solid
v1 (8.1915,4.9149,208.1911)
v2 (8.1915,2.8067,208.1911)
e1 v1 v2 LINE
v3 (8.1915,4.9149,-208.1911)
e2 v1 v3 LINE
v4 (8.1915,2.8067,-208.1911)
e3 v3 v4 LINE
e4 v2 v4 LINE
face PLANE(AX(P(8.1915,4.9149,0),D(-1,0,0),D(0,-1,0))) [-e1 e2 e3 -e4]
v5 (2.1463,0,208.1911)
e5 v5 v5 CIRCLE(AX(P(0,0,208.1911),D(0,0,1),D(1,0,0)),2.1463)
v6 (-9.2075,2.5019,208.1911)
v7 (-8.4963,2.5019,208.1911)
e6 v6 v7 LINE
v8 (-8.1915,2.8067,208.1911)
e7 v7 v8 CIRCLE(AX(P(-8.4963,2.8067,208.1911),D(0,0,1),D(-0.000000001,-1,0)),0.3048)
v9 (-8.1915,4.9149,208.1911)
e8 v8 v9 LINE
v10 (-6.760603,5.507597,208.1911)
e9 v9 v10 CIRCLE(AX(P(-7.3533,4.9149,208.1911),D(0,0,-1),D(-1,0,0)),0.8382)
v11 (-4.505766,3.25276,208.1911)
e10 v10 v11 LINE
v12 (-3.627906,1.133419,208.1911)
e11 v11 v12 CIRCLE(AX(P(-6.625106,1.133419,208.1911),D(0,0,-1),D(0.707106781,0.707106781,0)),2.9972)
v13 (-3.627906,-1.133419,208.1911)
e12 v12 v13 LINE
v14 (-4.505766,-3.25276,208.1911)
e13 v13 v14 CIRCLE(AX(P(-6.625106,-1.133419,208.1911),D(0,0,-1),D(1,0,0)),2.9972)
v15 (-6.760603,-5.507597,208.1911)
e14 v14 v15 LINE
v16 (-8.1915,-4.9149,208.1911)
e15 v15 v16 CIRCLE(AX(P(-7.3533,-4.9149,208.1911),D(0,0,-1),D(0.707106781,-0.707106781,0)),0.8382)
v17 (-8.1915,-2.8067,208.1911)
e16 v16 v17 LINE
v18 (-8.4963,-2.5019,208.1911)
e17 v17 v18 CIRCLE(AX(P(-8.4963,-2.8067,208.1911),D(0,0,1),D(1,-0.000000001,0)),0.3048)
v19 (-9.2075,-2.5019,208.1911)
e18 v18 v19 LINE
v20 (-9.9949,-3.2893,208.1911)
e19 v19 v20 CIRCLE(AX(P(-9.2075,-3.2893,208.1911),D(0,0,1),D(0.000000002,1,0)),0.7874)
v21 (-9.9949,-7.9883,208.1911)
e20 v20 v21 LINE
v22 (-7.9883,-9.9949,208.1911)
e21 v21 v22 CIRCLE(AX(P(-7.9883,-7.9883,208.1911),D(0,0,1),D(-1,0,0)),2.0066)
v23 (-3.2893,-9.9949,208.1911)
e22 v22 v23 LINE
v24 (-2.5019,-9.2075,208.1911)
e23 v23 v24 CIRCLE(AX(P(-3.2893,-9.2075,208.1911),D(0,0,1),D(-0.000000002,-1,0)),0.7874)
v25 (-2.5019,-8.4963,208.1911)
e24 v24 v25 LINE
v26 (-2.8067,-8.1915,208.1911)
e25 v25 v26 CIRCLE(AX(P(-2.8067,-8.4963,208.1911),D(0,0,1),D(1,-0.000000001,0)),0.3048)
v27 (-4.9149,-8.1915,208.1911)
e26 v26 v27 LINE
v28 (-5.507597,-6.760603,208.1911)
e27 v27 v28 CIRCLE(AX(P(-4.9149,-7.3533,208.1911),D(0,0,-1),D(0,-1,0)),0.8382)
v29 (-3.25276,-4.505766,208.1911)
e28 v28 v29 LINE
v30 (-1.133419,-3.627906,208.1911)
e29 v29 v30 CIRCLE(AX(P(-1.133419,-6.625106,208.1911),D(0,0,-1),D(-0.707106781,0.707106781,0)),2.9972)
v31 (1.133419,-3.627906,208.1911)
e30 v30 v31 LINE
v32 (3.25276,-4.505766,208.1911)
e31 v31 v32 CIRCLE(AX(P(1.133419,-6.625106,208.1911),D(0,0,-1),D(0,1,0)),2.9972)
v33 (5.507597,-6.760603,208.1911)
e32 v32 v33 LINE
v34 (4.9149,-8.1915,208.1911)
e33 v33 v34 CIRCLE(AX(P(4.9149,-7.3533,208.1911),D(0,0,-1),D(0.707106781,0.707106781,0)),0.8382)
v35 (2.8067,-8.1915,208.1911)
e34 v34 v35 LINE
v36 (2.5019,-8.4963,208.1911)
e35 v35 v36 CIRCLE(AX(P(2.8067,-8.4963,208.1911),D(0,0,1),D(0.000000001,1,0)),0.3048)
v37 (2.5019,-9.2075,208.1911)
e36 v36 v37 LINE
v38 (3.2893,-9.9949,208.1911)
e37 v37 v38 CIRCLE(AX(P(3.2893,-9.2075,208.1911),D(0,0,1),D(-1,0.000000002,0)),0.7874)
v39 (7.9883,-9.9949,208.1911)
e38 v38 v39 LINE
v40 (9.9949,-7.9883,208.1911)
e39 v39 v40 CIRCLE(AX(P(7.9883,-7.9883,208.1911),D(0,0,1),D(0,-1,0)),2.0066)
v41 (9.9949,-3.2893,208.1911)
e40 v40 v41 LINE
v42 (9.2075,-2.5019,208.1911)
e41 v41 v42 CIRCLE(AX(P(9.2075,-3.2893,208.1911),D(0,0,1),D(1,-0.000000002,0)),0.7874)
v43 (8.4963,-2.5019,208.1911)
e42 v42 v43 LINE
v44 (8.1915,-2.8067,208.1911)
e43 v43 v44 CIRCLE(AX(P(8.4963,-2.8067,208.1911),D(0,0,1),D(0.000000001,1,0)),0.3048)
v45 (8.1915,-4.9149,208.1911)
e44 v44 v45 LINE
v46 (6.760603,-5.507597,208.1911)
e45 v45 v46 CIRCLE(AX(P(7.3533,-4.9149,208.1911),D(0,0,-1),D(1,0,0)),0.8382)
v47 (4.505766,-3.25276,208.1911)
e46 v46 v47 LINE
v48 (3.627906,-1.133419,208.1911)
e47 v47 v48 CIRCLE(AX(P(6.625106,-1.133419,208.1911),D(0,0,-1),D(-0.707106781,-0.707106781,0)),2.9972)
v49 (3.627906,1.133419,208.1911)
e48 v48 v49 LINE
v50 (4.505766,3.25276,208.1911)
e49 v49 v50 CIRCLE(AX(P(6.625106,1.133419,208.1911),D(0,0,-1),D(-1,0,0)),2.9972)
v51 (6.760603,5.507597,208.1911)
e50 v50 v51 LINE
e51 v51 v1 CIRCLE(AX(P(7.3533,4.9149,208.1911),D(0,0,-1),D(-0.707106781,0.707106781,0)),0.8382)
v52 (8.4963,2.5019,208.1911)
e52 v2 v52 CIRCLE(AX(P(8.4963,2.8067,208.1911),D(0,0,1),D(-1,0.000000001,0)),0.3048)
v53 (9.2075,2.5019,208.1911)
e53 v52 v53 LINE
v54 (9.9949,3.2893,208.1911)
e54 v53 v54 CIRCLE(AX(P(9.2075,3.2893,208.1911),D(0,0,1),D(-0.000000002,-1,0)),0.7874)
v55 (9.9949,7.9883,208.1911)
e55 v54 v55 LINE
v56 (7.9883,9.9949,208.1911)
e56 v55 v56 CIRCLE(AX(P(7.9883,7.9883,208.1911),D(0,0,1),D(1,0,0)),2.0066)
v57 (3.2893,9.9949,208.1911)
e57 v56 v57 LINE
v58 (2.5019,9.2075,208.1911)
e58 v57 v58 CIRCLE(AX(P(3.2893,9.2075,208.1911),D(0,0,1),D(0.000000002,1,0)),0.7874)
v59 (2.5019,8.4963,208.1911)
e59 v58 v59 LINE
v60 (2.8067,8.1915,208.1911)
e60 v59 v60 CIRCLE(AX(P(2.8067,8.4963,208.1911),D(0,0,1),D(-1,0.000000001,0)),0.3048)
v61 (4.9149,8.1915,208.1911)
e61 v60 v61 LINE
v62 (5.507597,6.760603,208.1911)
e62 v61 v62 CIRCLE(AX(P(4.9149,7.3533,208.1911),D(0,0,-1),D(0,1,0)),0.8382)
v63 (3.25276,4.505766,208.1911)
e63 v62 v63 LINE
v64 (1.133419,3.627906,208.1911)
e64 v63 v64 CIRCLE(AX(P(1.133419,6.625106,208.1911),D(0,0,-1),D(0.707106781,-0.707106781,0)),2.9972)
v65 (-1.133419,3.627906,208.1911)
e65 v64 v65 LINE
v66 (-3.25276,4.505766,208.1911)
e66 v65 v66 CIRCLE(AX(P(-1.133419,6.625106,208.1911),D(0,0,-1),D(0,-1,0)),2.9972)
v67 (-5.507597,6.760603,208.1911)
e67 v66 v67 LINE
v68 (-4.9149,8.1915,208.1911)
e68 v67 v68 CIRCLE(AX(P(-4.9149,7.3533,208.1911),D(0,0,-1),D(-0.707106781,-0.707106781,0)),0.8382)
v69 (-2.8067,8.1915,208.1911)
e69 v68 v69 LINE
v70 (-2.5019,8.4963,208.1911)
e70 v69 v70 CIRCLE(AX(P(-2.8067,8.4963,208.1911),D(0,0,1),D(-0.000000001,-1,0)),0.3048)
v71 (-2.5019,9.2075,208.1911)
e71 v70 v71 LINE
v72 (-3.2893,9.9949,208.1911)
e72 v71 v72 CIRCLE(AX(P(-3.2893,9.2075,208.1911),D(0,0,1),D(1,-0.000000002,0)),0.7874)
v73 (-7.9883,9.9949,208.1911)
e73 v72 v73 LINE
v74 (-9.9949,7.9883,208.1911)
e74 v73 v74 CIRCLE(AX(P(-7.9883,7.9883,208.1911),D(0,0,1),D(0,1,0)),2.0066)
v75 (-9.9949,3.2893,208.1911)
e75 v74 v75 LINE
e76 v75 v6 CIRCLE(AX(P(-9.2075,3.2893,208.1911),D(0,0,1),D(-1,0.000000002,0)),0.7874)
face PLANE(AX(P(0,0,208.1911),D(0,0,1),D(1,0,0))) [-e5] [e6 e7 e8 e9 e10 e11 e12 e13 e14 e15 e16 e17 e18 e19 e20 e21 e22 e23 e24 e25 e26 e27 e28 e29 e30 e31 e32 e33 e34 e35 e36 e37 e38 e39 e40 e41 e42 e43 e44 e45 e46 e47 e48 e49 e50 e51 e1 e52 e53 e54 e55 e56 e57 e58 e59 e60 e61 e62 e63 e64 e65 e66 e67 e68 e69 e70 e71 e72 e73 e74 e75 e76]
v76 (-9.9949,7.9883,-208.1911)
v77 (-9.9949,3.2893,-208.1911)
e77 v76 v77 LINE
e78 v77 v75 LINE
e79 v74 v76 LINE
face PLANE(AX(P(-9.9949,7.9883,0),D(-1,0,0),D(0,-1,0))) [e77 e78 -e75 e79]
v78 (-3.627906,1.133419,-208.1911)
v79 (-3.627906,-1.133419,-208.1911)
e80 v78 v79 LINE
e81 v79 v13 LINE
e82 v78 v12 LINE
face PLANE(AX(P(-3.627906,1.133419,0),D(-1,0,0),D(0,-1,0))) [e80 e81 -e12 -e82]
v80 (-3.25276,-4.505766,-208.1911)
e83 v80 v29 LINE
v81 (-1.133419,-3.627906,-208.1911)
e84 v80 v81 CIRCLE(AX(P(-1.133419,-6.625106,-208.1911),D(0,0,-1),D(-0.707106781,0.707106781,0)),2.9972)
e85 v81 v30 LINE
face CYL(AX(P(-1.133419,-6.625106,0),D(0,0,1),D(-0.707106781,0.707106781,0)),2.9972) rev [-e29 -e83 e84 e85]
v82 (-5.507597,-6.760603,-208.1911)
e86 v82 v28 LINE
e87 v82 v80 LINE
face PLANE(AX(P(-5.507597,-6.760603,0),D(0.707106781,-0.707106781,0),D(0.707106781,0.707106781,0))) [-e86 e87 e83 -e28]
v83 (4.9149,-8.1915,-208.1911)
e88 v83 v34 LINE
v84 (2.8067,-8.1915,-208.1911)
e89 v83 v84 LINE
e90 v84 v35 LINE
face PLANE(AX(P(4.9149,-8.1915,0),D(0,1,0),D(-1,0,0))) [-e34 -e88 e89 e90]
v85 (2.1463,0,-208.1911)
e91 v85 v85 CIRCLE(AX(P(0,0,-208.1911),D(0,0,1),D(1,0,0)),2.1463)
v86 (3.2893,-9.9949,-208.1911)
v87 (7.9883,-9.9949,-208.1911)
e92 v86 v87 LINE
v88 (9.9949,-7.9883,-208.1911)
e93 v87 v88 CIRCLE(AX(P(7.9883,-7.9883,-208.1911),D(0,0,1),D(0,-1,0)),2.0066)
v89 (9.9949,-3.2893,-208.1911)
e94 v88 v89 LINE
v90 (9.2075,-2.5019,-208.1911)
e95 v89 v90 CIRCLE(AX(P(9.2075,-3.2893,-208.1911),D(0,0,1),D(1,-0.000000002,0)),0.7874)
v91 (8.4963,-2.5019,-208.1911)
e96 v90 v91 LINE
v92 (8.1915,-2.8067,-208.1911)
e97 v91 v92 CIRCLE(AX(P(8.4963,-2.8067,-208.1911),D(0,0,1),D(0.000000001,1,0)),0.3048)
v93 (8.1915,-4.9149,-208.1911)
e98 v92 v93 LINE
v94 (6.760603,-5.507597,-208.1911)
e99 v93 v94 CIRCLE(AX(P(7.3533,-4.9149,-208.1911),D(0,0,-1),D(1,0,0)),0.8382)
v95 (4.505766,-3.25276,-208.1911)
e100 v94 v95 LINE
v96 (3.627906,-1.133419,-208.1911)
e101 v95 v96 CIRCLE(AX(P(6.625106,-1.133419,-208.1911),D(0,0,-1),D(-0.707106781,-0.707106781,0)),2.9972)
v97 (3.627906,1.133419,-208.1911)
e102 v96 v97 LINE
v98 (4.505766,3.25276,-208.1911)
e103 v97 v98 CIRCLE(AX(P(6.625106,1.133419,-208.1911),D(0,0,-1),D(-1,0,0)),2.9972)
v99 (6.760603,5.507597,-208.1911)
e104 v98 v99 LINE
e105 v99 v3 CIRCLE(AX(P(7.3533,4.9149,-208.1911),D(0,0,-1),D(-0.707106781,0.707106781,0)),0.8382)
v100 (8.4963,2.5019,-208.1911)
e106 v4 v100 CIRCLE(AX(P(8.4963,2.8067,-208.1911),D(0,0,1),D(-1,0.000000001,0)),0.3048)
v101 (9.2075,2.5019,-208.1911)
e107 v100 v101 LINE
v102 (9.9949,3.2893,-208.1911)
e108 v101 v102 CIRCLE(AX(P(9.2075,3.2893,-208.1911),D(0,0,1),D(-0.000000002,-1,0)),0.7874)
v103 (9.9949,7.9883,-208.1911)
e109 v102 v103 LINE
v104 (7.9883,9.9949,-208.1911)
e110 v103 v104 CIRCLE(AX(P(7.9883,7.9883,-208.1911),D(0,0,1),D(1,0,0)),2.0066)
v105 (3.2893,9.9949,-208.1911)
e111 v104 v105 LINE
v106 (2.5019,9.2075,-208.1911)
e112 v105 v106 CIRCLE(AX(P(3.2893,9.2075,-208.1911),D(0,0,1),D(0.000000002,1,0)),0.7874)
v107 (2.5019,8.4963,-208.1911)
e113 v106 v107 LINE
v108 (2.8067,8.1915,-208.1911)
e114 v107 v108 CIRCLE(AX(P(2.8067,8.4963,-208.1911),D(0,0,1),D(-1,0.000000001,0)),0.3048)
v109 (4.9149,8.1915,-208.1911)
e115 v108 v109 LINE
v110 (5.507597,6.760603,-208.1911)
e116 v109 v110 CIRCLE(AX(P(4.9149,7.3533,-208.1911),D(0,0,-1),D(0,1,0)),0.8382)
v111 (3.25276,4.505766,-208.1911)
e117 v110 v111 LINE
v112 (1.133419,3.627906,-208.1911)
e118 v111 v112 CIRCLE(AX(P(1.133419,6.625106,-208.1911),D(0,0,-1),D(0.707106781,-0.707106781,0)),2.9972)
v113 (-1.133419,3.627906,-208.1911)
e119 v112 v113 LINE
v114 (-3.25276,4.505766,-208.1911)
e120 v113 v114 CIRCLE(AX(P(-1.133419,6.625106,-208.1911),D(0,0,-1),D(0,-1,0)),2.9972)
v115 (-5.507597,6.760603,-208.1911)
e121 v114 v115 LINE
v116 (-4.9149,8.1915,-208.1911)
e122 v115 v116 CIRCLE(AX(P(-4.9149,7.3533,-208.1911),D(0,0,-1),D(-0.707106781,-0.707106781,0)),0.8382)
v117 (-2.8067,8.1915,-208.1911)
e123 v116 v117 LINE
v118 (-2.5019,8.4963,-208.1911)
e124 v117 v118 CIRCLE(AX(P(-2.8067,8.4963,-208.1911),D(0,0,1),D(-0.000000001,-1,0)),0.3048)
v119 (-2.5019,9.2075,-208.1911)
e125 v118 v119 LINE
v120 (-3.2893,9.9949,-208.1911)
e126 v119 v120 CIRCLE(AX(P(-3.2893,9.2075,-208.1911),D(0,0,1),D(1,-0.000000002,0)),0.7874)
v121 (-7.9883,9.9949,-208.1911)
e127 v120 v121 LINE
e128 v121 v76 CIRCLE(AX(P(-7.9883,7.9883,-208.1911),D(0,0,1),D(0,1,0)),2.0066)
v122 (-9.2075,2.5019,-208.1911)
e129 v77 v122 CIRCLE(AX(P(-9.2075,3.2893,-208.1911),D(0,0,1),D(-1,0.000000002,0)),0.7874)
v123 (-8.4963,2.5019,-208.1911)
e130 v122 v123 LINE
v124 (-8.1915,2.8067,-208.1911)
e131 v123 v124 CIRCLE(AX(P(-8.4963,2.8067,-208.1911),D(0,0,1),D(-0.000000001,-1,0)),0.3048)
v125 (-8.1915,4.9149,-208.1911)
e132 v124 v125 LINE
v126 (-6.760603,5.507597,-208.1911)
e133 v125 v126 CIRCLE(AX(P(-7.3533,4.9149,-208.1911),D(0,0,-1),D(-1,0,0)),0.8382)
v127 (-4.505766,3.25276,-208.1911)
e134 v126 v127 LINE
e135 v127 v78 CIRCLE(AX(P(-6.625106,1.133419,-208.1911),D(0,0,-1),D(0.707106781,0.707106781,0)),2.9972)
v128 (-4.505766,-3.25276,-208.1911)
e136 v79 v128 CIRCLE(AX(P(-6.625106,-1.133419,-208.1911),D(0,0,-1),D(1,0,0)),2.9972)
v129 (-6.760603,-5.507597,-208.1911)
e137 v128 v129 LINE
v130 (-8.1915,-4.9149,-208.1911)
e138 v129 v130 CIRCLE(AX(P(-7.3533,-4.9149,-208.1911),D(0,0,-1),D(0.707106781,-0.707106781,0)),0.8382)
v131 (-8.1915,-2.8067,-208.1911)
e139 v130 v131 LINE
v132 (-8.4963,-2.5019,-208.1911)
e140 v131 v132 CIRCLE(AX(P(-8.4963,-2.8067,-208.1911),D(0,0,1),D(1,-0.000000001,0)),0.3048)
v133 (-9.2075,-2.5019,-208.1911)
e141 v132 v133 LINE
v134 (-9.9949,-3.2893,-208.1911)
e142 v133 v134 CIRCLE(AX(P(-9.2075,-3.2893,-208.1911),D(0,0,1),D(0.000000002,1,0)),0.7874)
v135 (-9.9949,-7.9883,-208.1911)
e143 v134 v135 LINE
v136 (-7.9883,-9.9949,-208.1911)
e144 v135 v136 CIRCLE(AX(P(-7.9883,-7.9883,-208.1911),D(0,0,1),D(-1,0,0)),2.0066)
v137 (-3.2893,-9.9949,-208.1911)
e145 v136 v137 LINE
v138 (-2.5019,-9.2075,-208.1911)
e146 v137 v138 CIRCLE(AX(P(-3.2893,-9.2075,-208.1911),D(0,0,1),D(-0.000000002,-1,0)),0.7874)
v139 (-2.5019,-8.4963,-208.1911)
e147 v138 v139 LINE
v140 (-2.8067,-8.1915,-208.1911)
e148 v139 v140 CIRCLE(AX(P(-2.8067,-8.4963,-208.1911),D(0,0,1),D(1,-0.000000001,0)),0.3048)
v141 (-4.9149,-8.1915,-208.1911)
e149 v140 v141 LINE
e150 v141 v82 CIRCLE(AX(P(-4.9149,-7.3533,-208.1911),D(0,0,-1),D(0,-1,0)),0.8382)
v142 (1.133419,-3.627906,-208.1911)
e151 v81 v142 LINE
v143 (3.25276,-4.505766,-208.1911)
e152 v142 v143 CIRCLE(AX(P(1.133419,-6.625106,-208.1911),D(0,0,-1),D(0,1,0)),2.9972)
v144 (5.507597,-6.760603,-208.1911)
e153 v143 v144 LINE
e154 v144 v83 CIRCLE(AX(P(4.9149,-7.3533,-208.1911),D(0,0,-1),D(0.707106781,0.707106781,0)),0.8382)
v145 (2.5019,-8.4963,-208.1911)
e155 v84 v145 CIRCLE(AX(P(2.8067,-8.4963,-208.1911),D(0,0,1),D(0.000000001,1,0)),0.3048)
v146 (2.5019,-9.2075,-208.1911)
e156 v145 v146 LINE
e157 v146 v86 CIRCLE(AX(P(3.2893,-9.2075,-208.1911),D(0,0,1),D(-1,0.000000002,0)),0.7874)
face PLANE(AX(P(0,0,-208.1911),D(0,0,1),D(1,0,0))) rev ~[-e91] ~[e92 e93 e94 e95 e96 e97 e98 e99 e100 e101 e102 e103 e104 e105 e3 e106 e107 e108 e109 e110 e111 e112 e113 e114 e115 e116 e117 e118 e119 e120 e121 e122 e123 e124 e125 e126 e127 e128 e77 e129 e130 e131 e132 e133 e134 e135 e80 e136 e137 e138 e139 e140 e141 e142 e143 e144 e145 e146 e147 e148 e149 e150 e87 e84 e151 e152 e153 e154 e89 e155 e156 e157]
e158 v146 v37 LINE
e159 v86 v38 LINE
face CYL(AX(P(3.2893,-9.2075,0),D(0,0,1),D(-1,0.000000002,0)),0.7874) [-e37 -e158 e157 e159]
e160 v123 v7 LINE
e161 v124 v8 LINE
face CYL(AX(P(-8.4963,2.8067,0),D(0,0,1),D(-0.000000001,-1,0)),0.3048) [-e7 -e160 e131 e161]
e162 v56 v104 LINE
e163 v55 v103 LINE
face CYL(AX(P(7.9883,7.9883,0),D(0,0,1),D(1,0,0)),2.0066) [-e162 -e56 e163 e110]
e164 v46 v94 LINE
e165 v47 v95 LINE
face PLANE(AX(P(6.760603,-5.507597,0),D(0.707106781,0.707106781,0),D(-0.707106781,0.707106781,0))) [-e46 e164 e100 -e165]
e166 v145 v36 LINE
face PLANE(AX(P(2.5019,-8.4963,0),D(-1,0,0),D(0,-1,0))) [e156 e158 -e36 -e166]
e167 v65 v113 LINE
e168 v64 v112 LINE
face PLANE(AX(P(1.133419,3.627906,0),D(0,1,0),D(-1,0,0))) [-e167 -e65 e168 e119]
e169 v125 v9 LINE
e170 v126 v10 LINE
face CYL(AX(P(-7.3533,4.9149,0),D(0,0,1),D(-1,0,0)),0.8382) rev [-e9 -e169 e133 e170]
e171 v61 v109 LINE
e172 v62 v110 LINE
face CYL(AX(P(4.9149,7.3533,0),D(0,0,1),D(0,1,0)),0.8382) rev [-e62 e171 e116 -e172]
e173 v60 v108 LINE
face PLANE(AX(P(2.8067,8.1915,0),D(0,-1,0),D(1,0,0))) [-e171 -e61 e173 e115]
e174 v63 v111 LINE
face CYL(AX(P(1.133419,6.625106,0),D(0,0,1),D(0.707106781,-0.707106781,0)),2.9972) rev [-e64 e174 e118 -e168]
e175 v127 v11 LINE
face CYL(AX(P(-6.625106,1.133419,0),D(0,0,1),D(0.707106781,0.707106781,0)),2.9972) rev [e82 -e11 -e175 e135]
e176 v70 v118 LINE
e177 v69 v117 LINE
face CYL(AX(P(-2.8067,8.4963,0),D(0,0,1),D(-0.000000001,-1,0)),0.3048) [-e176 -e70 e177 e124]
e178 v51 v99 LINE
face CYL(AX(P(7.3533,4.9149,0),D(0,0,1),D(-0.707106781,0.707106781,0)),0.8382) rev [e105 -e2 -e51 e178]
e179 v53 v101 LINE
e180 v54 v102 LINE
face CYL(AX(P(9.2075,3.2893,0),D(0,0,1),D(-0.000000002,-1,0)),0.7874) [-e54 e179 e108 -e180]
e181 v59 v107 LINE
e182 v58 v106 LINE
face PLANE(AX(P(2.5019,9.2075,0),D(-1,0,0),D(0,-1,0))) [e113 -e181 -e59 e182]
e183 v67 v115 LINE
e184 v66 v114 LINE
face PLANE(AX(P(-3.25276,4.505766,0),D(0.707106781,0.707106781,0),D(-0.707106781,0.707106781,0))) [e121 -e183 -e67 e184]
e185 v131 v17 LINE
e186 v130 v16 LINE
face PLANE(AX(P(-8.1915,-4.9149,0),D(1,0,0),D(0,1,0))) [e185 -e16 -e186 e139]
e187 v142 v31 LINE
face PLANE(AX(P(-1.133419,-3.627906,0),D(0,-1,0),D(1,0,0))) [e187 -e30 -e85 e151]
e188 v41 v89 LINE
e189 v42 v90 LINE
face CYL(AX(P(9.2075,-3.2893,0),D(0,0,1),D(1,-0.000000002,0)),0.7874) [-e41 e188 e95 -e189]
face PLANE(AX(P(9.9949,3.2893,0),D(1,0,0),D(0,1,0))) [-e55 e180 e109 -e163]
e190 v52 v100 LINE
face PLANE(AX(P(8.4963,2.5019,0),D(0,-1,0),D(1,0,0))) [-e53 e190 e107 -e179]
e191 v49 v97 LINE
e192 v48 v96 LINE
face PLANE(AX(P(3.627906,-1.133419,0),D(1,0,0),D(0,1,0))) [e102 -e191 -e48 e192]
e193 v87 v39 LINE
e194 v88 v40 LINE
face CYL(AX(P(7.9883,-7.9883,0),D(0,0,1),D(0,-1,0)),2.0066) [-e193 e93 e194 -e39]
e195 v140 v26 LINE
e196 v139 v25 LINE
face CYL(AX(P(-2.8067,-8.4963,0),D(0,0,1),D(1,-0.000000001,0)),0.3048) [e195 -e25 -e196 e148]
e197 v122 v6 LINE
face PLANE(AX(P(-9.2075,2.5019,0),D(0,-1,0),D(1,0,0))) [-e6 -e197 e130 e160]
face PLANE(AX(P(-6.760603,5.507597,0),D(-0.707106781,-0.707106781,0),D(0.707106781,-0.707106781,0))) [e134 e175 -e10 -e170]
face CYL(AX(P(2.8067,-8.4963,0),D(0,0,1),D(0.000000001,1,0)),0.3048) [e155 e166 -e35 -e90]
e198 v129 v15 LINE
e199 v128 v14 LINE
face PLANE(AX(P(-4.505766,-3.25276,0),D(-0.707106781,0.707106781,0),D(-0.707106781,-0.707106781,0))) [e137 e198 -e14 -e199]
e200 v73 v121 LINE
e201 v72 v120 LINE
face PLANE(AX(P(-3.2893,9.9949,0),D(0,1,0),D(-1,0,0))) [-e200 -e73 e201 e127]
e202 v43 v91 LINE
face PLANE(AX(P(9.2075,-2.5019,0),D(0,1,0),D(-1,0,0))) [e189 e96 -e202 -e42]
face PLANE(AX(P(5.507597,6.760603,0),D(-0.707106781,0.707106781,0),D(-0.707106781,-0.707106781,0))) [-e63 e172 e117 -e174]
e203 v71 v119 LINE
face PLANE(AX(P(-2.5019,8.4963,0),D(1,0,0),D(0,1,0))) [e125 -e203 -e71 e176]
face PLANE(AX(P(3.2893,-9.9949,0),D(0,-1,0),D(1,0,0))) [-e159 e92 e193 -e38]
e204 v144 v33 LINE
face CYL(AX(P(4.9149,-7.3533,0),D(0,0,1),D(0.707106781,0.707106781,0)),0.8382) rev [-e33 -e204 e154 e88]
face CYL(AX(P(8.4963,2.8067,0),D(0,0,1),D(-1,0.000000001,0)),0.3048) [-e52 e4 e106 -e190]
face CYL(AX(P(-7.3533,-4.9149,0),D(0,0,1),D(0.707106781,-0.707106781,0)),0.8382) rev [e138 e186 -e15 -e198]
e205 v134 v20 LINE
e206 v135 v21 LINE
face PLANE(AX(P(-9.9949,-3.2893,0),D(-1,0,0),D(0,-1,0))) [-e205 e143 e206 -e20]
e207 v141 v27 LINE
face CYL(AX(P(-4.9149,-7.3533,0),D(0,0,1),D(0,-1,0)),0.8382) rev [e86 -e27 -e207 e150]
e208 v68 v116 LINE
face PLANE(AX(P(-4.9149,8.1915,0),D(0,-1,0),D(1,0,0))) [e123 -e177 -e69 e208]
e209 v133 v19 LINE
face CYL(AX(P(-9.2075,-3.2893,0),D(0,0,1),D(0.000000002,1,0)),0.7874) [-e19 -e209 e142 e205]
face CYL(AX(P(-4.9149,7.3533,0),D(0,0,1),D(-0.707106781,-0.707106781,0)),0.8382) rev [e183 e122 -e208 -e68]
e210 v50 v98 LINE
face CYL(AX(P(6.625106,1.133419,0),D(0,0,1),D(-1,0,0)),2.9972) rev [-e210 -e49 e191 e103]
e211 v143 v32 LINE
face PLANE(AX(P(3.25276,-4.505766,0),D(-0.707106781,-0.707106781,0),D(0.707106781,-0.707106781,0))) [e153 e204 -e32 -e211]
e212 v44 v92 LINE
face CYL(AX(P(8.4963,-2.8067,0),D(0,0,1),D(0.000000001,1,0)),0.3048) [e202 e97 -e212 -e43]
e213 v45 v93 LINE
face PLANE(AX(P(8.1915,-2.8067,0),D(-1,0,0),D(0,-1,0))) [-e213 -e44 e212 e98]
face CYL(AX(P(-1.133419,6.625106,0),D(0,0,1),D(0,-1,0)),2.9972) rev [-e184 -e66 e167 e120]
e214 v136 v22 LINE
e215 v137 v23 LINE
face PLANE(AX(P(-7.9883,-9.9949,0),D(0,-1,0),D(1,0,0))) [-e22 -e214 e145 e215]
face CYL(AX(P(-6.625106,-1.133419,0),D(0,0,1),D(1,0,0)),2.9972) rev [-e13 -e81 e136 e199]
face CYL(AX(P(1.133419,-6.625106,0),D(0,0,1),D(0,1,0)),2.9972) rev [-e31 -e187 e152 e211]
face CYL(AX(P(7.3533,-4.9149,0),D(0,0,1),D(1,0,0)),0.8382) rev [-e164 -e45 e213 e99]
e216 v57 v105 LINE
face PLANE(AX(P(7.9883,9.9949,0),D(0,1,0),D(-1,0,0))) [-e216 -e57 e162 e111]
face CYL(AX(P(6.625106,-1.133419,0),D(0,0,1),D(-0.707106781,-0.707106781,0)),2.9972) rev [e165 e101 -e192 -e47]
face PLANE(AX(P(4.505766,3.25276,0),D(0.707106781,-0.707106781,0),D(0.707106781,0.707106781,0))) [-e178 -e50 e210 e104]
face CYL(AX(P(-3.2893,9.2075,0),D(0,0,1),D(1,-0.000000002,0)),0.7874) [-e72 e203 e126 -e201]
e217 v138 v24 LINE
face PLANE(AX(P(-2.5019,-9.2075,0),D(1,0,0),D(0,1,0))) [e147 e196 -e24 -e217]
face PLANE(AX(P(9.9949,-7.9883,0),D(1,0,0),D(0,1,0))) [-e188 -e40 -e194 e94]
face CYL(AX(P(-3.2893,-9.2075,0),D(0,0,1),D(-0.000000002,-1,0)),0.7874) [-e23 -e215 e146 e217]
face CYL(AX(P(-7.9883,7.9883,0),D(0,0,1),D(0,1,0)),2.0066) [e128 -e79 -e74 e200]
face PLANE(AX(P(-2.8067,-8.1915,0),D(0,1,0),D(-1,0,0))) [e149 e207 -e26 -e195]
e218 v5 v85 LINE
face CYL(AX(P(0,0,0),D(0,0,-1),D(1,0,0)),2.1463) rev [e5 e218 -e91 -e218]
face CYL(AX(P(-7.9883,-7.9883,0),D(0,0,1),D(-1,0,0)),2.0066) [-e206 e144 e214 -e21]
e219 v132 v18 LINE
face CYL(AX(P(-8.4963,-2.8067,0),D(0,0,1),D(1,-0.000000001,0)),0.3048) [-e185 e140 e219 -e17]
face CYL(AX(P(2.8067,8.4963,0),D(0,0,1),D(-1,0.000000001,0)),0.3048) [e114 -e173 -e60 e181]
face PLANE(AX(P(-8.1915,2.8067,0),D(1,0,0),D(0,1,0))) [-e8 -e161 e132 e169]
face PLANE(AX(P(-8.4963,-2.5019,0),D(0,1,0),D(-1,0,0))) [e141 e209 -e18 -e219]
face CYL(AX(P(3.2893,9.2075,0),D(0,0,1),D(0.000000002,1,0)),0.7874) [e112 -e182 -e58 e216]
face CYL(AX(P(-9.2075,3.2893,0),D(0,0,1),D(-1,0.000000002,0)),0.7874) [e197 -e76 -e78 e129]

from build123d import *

# Parameters (mm, degrees)
SKETCH1_R           = 2.1463
BOSS_EXTRUDE1_DEPTH = 208.1911


with BuildPart() as part:
    # Sketch1 → Boss-Extrude1 (new, symmetric)
    with BuildSketch(Plane.XY):
        with BuildLine():
            Line((-9.9949, 7.9883), (-9.9949, 3.2893))
            ThreePointArc((-9.9949, 3.2893), (-9.76427588, 2.73252412), (-9.2075, 2.5019))
            Line((-9.2075, 2.5019), (-8.4963, 2.5019))
            ThreePointArc((-8.4963, 2.5019), (-8.280773853, 2.591173853), (-8.1915, 2.8067))
            Line((-8.1915, 2.8067), (-8.1915, 4.9149))
            ThreePointArc((-8.1915, 4.9149), (-7.674065253, 5.689295824), (-6.760603096, 5.507596904))
            Line((-6.760603096, 5.507596904), (-4.505765747, 3.252759555))
            ThreePointArc((-4.505765747, 3.252759555), (-3.856054457, 2.280397894), (-3.627906192, 1.133419111))
            Line((-3.627906192, 1.133419111), (-3.627906192, -1.133419111))
            ThreePointArc((-3.627906192, -1.133419111), (-3.856054457, -2.280397894), (-4.505765747, -3.252759555))
            Line((-4.505765747, -3.252759555), (-6.760603096, -5.507596904))
            ThreePointArc((-6.760603096, -5.507596904), (-7.674065253, -5.689295824), (-8.1915, -4.9149))
            Line((-8.1915, -4.9149), (-8.1915, -2.8067))
            ThreePointArc((-8.1915, -2.8067), (-8.280773853, -2.591173853), (-8.4963, -2.5019))
            Line((-8.4963, -2.5019), (-9.2075, -2.5019))
            ThreePointArc((-9.2075, -2.5019), (-9.76427588, -2.73252412), (-9.9949, -3.2893))
            Line((-9.9949, -3.2893), (-9.9949, -7.9883))
            ThreePointArc((-9.9949, -7.9883), (-9.407180467, -9.407180467), (-7.9883, -9.9949))
            Line((-7.9883, -9.9949), (-3.2893, -9.9949))
            ThreePointArc((-3.2893, -9.9949), (-2.73252412, -9.76427588), (-2.5019, -9.2075))
            Line((-2.5019, -9.2075), (-2.5019, -8.4963))
            ThreePointArc((-2.5019, -8.4963), (-2.591173853, -8.280773853), (-2.8067, -8.1915))
            Line((-2.8067, -8.1915), (-4.9149, -8.1915))
            ThreePointArc((-4.9149, -8.1915), (-5.689295824, -7.674065253), (-5.507596904, -6.760603096))
            Line((-5.507596904, -6.760603096), (-3.252759555, -4.505765747))
            ThreePointArc((-3.252759555, -4.505765747), (-2.280397894, -3.856054457), (-1.133419111, -3.627906192))
            Line((-1.133419111, -3.627906192), (1.133419111, -3.627906192))
            ThreePointArc((1.133419111, -3.627906192), (2.280397894, -3.856054457), (3.252759555, -4.505765747))
            Line((3.252759555, -4.505765747), (5.507596904, -6.760603096))
            ThreePointArc((5.507596904, -6.760603096), (5.689295824, -7.674065253), (4.9149, -8.1915))
            Line((4.9149, -8.1915), (2.8067, -8.1915))
            ThreePointArc((2.8067, -8.1915), (2.591173853, -8.280773853), (2.5019, -8.4963))
            Line((2.5019, -8.4963), (2.5019, -9.2075))
            ThreePointArc((2.5019, -9.2075), (2.73252412, -9.76427588), (3.2893, -9.9949))
            Line((3.2893, -9.9949), (7.9883, -9.9949))
            ThreePointArc((7.9883, -9.9949), (9.407180467, -9.407180467), (9.9949, -7.9883))
            Line((9.9949, -7.9883), (9.9949, -3.2893))
            ThreePointArc((9.9949, -3.2893), (9.76427588, -2.73252412), (9.2075, -2.5019))
            Line((9.2075, -2.5019), (8.4963, -2.5019))
            ThreePointArc((8.4963, -2.5019), (8.280773853, -2.591173853), (8.1915, -2.8067))
            Line((8.1915, -2.8067), (8.1915, -4.9149))
            ThreePointArc((8.1915, -4.9149), (7.674065253, -5.689295824), (6.760603096, -5.507596904))
            Line((6.760603096, -5.507596904), (4.505765747, -3.252759555))
            ThreePointArc((4.505765747, -3.252759555), (3.856054457, -2.280397894), (3.627906192, -1.133419111))
            Line((3.627906192, -1.133419111), (3.627906192, 1.133419111))
            ThreePointArc((3.627906192, 1.133419111), (3.856054457, 2.280397894), (4.505765747, 3.252759555))
            Line((4.505765747, 3.252759555), (6.760603096, 5.507596904))
            ThreePointArc((6.760603096, 5.507596904), (7.674065253, 5.689295824), (8.1915, 4.9149))
            Line((8.1915, 4.9149), (8.1915, 2.8067))
            ThreePointArc((8.1915, 2.8067), (8.280773853, 2.591173853), (8.4963, 2.5019))
            Line((8.4963, 2.5019), (9.2075, 2.5019))
            ThreePointArc((9.2075, 2.5019), (9.76427588, 2.73252412), (9.9949, 3.2893))
            Line((9.9949, 3.2893), (9.9949, 7.9883))
            ThreePointArc((9.9949, 7.9883), (9.407180467, 9.407180467), (7.9883, 9.9949))
            Line((7.9883, 9.9949), (3.2893, 9.9949))
            ThreePointArc((3.2893, 9.9949), (2.73252412, 9.76427588), (2.5019, 9.2075))
            Line((2.5019, 9.2075), (2.5019, 8.4963))
            ThreePointArc((2.5019, 8.4963), (2.591173853, 8.280773853), (2.8067, 8.1915))
            Line((2.8067, 8.1915), (4.9149, 8.1915))
            ThreePointArc((4.9149, 8.1915), (5.689295824, 7.674065253), (5.507596904, 6.760603096))
            Line((5.507596904, 6.760603096), (3.252759555, 4.505765747))
            ThreePointArc((3.252759555, 4.505765747), (2.280397894, 3.856054457), (1.133419111, 3.627906192))
            Line((1.133419111, 3.627906192), (-1.133419111, 3.627906192))
            ThreePointArc((-1.133419111, 3.627906192), (-2.280397894, 3.856054457), (-3.252759555, 4.505765747))
            Line((-3.252759555, 4.505765747), (-5.507596904, 6.760603096))
            ThreePointArc((-5.507596904, 6.760603096), (-5.689295824, 7.674065253), (-4.9149, 8.1915))
            Line((-4.9149, 8.1915), (-2.8067, 8.1915))
            ThreePointArc((-2.8067, 8.1915), (-2.591173853, 8.280773853), (-2.5019, 8.4963))
            Line((-2.5019, 8.4963), (-2.5019, 9.2075))
            ThreePointArc((-2.5019, 9.2075), (-2.73252412, 9.76427588), (-3.2893, 9.9949))
            Line((-3.2893, 9.9949), (-7.9883, 9.9949))
            ThreePointArc((-7.9883, 9.9949), (-9.407180467, 9.407180467), (-9.9949, 7.9883))
        make_face()
        Circle(SKETCH1_R, mode=Mode.SUBTRACT)
    extrude(amount=BOSS_EXTRUDE1_DEPTH, both=True)


solid = part.part
